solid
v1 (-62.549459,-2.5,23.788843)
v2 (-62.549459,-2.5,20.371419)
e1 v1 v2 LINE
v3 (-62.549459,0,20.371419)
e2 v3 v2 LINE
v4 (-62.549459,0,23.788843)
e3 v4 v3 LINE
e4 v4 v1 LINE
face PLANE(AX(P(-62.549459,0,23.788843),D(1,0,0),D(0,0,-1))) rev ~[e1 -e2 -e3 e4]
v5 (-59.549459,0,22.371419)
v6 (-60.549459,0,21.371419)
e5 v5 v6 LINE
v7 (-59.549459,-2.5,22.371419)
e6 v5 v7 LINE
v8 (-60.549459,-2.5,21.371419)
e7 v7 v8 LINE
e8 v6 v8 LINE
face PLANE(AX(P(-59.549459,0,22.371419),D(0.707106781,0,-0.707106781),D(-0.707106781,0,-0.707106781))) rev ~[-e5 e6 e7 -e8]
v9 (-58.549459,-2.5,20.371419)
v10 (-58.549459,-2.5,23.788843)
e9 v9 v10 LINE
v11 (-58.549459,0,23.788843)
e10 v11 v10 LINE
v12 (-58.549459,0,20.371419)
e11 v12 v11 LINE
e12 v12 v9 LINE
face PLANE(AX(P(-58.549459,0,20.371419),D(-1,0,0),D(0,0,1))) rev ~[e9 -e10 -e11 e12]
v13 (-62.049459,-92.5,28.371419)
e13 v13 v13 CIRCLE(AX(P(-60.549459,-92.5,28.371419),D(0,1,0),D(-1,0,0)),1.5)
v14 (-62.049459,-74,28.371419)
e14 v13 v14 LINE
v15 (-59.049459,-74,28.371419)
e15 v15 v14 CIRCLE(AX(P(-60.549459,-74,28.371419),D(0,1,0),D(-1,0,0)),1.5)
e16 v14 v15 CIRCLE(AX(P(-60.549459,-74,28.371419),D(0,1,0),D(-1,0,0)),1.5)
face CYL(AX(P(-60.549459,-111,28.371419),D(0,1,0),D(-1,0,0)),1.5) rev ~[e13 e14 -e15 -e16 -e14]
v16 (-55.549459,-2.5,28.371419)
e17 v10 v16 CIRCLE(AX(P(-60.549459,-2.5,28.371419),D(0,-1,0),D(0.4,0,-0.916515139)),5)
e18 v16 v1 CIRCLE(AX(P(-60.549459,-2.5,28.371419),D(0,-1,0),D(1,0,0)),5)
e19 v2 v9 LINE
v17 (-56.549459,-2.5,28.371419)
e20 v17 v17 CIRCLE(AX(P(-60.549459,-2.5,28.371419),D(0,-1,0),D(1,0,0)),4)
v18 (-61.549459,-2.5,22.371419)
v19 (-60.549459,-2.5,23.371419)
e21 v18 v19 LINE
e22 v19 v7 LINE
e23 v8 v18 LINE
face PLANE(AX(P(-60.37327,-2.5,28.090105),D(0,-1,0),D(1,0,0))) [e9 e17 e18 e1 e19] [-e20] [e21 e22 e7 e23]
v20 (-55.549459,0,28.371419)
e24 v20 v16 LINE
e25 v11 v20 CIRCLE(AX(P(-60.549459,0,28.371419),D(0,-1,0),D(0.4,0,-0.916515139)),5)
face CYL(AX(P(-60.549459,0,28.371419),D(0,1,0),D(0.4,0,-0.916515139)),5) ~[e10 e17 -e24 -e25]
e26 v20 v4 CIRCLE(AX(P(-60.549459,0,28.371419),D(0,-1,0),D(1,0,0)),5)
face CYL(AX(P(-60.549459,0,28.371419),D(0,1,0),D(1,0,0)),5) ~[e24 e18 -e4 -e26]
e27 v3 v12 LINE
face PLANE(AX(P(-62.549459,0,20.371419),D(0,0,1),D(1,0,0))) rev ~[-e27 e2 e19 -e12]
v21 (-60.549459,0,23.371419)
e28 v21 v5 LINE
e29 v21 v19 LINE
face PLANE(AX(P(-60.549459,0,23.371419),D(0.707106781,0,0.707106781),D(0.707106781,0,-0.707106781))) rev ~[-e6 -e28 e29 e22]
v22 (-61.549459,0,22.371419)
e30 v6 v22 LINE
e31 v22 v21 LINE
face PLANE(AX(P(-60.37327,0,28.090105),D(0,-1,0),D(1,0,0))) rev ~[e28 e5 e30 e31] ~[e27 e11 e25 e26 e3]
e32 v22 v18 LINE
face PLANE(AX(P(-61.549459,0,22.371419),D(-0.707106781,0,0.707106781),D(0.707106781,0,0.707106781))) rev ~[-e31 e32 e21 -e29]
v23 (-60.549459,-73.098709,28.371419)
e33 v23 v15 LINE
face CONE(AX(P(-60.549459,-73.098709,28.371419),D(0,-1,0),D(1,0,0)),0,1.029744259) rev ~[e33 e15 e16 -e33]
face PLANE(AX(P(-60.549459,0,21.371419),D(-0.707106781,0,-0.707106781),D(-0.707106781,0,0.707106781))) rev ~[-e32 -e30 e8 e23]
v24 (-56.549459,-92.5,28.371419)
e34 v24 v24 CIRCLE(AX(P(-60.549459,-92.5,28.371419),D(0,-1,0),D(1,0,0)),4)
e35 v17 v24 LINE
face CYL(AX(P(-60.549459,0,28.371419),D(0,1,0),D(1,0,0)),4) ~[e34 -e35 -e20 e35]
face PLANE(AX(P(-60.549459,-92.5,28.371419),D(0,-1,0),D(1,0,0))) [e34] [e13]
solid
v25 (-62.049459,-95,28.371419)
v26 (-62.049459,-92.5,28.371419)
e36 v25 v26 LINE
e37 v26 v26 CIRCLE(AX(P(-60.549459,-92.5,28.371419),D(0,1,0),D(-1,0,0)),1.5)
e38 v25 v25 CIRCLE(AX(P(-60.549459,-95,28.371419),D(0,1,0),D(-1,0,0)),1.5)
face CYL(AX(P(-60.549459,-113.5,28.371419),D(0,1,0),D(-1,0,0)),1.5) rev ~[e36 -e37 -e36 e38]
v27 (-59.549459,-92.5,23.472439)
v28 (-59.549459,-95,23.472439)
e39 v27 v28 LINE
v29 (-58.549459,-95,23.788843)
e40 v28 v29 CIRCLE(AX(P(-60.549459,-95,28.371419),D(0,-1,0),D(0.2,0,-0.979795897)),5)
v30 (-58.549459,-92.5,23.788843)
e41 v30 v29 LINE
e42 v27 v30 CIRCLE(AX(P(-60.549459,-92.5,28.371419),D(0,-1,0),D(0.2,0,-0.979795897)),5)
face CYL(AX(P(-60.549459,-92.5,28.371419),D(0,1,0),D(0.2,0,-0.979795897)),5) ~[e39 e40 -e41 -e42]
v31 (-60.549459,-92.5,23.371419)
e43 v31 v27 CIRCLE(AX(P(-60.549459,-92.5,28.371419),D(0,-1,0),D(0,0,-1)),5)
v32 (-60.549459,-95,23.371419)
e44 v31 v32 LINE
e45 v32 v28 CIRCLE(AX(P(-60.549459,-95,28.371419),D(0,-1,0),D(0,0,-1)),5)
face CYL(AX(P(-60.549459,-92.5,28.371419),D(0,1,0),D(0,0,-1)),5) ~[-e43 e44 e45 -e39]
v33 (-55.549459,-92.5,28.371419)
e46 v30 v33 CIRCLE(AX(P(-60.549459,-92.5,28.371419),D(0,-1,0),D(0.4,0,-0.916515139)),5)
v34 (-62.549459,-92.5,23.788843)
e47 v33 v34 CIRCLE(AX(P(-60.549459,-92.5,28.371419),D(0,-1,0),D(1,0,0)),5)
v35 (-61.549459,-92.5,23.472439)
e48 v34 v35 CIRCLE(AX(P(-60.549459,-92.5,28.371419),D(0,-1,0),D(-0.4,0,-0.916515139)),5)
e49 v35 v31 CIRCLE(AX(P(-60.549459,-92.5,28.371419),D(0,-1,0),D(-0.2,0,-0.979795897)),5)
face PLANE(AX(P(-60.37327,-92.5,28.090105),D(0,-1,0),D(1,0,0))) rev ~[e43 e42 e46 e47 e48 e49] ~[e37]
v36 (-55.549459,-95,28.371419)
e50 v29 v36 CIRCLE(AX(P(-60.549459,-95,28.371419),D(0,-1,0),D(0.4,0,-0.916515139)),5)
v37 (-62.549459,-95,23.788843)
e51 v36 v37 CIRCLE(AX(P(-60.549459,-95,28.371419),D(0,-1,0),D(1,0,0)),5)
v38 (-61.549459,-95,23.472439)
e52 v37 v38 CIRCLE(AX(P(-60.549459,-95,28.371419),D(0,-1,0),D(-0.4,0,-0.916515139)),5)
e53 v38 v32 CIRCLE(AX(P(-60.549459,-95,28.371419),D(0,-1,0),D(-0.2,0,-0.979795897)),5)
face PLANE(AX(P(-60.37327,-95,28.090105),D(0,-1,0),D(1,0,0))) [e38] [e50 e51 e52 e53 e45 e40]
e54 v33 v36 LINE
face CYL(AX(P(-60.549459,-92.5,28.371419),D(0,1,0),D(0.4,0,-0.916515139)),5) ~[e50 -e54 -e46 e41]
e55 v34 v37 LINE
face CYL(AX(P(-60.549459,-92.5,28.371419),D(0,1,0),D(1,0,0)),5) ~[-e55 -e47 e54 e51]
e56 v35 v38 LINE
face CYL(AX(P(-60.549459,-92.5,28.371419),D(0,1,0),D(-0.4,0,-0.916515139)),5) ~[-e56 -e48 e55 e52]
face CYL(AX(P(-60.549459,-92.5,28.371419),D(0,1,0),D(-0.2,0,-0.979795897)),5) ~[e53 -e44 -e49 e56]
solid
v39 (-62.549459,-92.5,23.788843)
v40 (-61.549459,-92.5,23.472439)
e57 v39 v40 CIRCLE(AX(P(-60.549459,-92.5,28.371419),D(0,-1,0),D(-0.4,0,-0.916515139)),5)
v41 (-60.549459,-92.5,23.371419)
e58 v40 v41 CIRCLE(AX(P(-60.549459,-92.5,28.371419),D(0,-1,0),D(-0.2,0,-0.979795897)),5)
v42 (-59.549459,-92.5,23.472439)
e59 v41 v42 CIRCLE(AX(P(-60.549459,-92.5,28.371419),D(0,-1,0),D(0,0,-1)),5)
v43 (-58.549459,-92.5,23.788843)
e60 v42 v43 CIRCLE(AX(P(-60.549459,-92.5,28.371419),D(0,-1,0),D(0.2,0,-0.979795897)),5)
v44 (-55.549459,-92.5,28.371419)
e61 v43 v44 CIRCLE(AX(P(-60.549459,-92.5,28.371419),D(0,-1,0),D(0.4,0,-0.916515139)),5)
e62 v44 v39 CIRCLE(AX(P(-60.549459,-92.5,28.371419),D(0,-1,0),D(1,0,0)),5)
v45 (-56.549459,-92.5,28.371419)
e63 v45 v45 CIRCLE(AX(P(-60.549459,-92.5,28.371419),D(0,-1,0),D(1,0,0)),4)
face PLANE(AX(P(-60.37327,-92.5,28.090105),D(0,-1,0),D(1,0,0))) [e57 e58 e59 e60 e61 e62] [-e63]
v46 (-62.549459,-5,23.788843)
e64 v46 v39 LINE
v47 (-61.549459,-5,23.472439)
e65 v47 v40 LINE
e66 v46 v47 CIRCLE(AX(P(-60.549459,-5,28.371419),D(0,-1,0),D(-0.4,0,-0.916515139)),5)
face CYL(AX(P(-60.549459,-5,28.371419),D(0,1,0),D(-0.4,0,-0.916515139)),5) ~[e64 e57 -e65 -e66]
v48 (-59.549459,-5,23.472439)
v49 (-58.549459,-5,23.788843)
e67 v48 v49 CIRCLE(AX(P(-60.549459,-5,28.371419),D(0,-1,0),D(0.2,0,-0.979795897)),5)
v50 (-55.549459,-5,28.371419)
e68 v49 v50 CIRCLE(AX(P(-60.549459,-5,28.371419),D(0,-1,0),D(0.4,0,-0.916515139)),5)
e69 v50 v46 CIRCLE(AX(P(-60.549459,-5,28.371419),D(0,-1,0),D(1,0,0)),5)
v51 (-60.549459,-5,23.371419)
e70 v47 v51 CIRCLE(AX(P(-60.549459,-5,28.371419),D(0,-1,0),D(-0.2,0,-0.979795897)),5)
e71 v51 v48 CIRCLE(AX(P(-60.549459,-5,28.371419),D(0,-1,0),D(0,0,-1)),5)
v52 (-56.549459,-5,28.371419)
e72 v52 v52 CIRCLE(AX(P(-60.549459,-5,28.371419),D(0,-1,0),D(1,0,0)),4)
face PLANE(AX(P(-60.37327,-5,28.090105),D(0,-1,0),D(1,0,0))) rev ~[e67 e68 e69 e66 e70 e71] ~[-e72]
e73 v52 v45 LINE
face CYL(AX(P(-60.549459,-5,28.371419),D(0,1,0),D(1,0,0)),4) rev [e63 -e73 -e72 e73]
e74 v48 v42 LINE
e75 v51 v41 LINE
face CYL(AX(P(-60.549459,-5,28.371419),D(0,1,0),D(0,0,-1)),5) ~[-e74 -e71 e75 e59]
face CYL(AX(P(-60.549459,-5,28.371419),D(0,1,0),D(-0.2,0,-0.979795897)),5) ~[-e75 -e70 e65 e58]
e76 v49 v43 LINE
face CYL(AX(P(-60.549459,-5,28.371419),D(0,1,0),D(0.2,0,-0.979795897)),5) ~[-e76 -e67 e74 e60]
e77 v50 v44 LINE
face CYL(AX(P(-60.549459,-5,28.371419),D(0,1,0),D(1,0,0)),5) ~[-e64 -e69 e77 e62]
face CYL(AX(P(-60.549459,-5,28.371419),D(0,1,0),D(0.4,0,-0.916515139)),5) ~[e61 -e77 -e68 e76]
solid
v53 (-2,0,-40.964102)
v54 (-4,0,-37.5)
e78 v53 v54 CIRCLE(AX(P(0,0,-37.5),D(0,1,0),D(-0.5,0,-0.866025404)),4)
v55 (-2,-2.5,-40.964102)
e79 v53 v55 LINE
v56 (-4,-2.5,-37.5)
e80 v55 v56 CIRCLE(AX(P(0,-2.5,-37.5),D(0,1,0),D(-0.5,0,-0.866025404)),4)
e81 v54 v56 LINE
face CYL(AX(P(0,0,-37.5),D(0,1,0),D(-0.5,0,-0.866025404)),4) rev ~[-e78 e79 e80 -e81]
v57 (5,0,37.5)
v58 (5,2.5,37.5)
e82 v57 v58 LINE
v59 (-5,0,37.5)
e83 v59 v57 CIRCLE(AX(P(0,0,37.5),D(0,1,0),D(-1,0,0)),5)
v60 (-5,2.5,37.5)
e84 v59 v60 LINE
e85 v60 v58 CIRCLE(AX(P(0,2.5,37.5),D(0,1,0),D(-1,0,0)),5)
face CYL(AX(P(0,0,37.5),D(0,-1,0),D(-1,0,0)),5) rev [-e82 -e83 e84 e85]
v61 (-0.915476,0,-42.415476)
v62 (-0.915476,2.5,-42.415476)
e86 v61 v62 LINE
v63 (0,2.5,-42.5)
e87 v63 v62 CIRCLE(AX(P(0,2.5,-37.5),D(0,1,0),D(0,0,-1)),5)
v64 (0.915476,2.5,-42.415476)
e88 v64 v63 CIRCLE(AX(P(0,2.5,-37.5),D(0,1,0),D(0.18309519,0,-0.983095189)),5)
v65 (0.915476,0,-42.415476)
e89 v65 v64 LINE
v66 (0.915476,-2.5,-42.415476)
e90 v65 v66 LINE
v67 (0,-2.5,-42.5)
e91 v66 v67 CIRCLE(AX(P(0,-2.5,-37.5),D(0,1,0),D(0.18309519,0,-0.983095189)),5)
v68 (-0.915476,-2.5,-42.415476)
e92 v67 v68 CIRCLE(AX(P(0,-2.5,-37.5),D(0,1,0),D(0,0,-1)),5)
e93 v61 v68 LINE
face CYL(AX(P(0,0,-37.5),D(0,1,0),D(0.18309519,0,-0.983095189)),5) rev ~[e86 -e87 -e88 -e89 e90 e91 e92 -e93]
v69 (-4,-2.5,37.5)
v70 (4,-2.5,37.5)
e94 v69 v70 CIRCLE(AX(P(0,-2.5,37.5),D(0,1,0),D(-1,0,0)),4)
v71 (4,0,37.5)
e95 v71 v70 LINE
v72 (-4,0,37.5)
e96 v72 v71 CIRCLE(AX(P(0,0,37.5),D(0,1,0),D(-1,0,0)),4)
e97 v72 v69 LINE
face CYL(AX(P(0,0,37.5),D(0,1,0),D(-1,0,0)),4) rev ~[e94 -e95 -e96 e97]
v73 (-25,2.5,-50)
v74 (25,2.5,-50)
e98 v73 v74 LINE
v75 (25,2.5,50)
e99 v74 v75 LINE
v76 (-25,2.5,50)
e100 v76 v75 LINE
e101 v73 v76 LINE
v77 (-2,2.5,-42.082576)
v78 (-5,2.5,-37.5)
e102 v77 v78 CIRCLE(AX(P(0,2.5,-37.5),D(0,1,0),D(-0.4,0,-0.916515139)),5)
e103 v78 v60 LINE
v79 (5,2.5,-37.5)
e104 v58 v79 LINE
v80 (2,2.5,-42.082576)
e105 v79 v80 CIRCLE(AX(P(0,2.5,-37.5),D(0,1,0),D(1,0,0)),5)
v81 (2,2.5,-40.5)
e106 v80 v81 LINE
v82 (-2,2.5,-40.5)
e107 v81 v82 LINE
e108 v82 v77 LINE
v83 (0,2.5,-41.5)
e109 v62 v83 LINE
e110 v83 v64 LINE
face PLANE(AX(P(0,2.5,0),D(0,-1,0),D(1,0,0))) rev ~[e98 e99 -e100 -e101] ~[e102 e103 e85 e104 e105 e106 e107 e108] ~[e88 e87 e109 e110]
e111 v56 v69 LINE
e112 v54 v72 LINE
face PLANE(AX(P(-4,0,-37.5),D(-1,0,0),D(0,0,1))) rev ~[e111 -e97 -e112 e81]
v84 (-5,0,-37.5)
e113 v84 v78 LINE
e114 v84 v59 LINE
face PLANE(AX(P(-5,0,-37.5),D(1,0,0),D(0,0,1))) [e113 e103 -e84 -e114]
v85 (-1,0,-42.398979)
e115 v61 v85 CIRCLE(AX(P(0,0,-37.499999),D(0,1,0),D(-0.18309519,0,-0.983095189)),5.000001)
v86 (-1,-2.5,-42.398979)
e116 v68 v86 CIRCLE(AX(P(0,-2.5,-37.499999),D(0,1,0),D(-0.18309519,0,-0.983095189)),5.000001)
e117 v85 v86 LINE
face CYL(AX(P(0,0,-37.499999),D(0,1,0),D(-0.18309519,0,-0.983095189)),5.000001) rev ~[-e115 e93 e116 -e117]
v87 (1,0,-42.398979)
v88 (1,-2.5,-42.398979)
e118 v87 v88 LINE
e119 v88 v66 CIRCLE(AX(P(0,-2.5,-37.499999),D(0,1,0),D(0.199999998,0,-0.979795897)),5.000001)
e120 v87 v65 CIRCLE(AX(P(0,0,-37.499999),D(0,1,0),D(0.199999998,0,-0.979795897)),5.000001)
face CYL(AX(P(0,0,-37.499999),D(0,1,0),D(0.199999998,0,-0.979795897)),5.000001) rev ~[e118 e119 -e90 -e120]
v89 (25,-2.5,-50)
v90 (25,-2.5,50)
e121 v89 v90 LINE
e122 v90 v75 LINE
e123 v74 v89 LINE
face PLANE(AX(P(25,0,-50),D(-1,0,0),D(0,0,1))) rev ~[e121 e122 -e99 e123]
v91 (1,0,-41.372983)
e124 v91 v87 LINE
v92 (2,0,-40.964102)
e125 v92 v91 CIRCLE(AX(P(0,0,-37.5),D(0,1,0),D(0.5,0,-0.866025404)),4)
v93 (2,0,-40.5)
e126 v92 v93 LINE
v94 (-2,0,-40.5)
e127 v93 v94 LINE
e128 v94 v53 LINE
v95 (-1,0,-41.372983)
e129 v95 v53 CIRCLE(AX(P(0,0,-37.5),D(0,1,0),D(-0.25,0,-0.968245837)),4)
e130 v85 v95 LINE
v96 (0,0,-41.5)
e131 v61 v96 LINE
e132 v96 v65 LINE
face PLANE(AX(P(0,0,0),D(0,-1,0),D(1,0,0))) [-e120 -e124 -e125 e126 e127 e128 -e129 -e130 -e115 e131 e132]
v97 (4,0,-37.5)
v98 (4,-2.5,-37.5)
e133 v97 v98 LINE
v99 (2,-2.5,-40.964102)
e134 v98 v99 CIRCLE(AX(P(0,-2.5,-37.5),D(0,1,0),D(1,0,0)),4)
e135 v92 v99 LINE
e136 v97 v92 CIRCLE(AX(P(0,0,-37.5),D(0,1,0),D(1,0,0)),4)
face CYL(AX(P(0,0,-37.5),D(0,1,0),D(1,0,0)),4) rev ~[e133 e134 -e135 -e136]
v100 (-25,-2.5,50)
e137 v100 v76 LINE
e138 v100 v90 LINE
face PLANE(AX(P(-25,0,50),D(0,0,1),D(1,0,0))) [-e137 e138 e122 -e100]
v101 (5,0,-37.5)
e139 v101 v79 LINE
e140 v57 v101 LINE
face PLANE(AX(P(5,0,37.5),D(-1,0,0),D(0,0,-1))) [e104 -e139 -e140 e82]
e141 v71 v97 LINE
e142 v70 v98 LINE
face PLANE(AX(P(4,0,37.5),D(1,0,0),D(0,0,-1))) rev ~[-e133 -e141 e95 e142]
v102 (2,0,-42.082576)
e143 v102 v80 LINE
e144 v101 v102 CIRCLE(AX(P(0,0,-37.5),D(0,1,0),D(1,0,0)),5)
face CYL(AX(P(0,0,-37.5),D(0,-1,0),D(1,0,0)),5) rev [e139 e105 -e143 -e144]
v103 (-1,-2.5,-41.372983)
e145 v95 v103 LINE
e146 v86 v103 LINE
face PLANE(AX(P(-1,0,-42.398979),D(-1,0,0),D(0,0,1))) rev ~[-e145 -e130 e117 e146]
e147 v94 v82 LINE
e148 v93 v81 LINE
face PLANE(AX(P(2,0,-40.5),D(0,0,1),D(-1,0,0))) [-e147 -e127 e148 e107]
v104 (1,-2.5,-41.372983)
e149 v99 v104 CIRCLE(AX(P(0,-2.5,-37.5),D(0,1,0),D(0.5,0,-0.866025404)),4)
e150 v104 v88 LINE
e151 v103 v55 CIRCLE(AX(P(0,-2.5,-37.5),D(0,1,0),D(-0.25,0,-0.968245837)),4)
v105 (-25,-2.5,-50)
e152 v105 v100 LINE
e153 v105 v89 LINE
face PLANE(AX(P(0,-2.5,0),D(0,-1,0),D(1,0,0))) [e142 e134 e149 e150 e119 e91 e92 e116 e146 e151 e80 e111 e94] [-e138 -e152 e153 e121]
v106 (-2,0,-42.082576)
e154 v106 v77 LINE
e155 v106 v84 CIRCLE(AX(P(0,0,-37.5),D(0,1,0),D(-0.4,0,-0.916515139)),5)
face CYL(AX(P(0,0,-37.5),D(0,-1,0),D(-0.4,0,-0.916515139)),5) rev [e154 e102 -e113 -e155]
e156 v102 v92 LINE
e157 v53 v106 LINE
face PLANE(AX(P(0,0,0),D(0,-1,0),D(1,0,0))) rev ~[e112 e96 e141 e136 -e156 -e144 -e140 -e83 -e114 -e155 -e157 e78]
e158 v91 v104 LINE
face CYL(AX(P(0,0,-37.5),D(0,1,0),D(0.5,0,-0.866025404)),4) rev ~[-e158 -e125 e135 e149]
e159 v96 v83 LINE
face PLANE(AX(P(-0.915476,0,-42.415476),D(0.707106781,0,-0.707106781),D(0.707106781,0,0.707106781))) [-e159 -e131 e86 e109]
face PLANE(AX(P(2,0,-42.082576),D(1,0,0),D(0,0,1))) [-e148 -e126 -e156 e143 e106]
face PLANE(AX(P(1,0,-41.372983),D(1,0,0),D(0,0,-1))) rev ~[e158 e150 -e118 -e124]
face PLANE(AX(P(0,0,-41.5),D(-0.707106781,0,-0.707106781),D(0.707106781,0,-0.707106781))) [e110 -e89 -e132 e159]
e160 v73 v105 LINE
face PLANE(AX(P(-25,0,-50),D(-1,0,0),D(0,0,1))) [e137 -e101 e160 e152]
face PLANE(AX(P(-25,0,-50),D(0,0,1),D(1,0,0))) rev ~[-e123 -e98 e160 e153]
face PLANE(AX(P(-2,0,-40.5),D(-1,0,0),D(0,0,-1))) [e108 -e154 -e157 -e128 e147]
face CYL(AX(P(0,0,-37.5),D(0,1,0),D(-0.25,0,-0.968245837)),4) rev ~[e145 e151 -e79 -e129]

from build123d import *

# Parameters (mm, degrees)
F0_W      = 50
F0_H      = 100
F1_DEPTH  = 2.5
F2_DEPTH  = 2.5
F3_R      = 4
F4_DEPTH  = 2.5
F5_DEPTH  = 92.5
F7_START  = 5
F7_DEPTH  = 87.5
F8_D      = 3
F8_DEPTH  = 18.5
F8_TIP    = 0.9012909285
F9_START  = 92.5
F9_DEPTH  = 2.5
F11_D     = 3
F11_DEPTH = 18.5
F11_TIP   = 0.9012909285


with BuildPart() as f1:
    # F0 (on Front) → F1 (new body)
    with BuildSketch(Plane.XZ):
        Rectangle(F0_W, F0_H)
        with BuildLine():
            ThreePointArc((-5, 37.5), (0, 42.5), (5, 37.5))
            Line((5, 37.5), (5, -37.5))
            ThreePointArc((5, -37.5), (4.1833001327, -40.2386127875), (2, -42.082575695))
            Line((2, -42.082575695), (2, -42.5))
            Line((2, -42.5), (1, -42.5))
            Line((1, -42.5), (0, -42.5))
            Line((0, -42.5), (-1, -42.5))
            Line((-1, -42.5), (-2, -42.5))
            Line((-2, -42.5), (-2, -42.082575695))
            ThreePointArc((-2, -42.082575695), (-4.1833001327, -40.2386127875), (-5, -37.5))
            Line((-5, -37.5), (-5, 37.5))
        make_face(mode=Mode.SUBTRACT)
        with BuildLine():
            ThreePointArc((0, -42.5), (-0.4596848175, -42.4788241452), (-0.9154759474, -42.4154759474))
            Line((-0.9154759474, -42.4154759474), (-1, -42.5))
            Line((-1, -42.5), (0, -42.5))
        make_face()
        with BuildLine():
            ThreePointArc((-0.9154759474, -42.4154759474), (-0.9577734908, -42.4074096976), (-1, -42.3989794856))
            Line((-1, -42.3989794856), (-1, -42.5))
            Line((-1, -42.5), (-0.9154759474, -42.4154759474))
        make_face()
        with BuildLine():
            Line((1, -42.5), (1, -42.3989794856))
            ThreePointArc((1, -42.3989794856), (0.9577734908, -42.4074096976), (0.9154759474, -42.4154759474))
            Line((0.9154759474, -42.4154759474), (1, -42.5))
        make_face()
        with BuildLine():
            Line((1, -42.5), (0.9154759474, -42.4154759474))
            ThreePointArc((0.9154759474, -42.4154759474), (0.4596848175, -42.4788241452), (0, -42.5))
            Line((0, -42.5), (1, -42.5))
        make_face()
        with BuildLine():
            ThreePointArc((0.9154759474, -42.4154759474), (0.9577734908, -42.4074096976), (1, -42.3989794856))
            Line((1, -42.3989794856), (1, -41.3729833462))
            ThreePointArc((1, -41.3729833462), (0.5040171699, -41.4681187851), (0, -41.5))
            Line((0, -41.5), (0.9154759474, -42.4154759474))
        make_face()
        with BuildLine():
            ThreePointArc((0, -41.5), (0.5040171699, -41.4681187851), (1, -41.3729833462))
            Line((1, -41.3729833462), (1, -40.5))
            Line((1, -40.5), (0, -40.5))
            Line((0, -40.5), (0, -41.5))
        make_face()
        with BuildLine():
            Line((-1, -40.5), (-1, -41.3729833462))
            ThreePointArc((-1, -41.3729833462), (-0.5040171699, -41.4681187851), (0, -41.5))
            Line((0, -41.5), (0, -40.5))
            Line((0, -40.5), (-1, -40.5))
        make_face()
        with BuildLine():
            Line((-1, -41.3729833462), (-1, -42.3989794856))
            ThreePointArc((-1, -42.3989794856), (-0.9577734908, -42.4074096976), (-0.9154759474, -42.4154759474))
            Line((-0.9154759474, -42.4154759474), (0, -41.5))
            ThreePointArc((0, -41.5), (-0.5040171699, -41.4681187851), (-1, -41.3729833462))
        make_face()
        with BuildLine():
            Line((-2, -40.5), (-2, -40.9641016151))
            ThreePointArc((-2, -40.9641016151), (-1.5138679161, -41.2024591736), (-1, -41.3729833462))
            Line((-1, -41.3729833462), (-1, -40.5))
            Line((-1, -40.5), (-2, -40.5))
        make_face()
        with BuildLine():
            Line((-2, -40.9641016151), (-2, -42.082575695))
            ThreePointArc((-2, -42.082575695), (-1.5083195416, -42.2670716546), (-1, -42.3989794856))
            Line((-1, -42.3989794856), (-1, -41.3729833462))
            ThreePointArc((-1, -41.3729833462), (-1.5138679161, -41.2024591736), (-2, -40.9641016151))
        make_face()
        with BuildLine():
            ThreePointArc((-1, -42.3989794856), (-1.5083195416, -42.2670716546), (-2, -42.082575695))
            Line((-2, -42.082575695), (-2, -42.5))
            Line((-2, -42.5), (-1, -42.5))
            Line((-1, -42.5), (-1, -42.3989794856))
        make_face()
        with BuildLine():
            ThreePointArc((1, -41.3729833462), (1.5138679161, -41.2024591736), (2, -40.9641016151))
            Line((2, -40.9641016151), (2, -40.5))
            Line((2, -40.5), (1, -40.5))
            Line((1, -40.5), (1, -41.3729833462))
        make_face()
        with BuildLine():
            ThreePointArc((1, -42.3989794856), (1.5083195416, -42.2670716546), (2, -42.082575695))
            Line((2, -42.082575695), (2, -40.9641016151))
            ThreePointArc((2, -40.9641016151), (1.5138679161, -41.2024591736), (1, -41.3729833462))
            Line((1, -41.3729833462), (1, -42.3989794856))
        make_face()
        with BuildLine():
            Line((2, -42.5), (2, -42.082575695))
            ThreePointArc((2, -42.082575695), (1.5083195416, -42.2670716546), (1, -42.3989794856))
            Line((1, -42.3989794856), (1, -42.5))
            Line((1, -42.5), (2, -42.5))
        make_face()
    extrude(amount=-F1_DEPTH)

    # F0 (on Front) → F2 (join)
    with BuildSketch(Plane.XZ):
        Rectangle(F0_W, F0_H)
        with BuildLine():
            ThreePointArc((-5, 37.5), (0, 42.5), (5, 37.5))
            Line((5, 37.5), (5, -37.5))
            ThreePointArc((5, -37.5), (4.1833001327, -40.2386127875), (2, -42.082575695))
            Line((2, -42.082575695), (2, -42.5))
            Line((2, -42.5), (1, -42.5))
            Line((1, -42.5), (0, -42.5))
            Line((0, -42.5), (-1, -42.5))
            Line((-1, -42.5), (-2, -42.5))
            Line((-2, -42.5), (-2, -42.082575695))
            ThreePointArc((-2, -42.082575695), (-4.1833001327, -40.2386127875), (-5, -37.5))
            Line((-5, -37.5), (-5, 37.5))
        make_face(mode=Mode.SUBTRACT)
        with BuildLine():
            Line((5, -37.5), (5, 37.5))
            ThreePointArc((5, 37.5), (0, 42.5), (-5, 37.5))
            Line((-5, 37.5), (-5, -37.5))
            ThreePointArc((-5, -37.5), (-4.1833001327, -40.2386127875), (-2, -42.082575695))
            Line((-2, -42.082575695), (-2, -40.9641016151))
            ThreePointArc((-2, -40.9641016151), (-3.4641016151, -39.5), (-4, -37.5))
            Line((-4, -37.5), (-4, 37.5))
            ThreePointArc((-4, 37.5), (0, 41.5), (4, 37.5))
            Line((4, 37.5), (4, -37.5))
            ThreePointArc((4, -37.5), (3.4641016151, -39.5), (2, -40.9641016151))
            Line((2, -40.9641016151), (2, -42.082575695))
            ThreePointArc((2, -42.082575695), (4.1833001327, -40.2386127875), (5, -37.5))
        make_face()
        with BuildLine():
            Line((-2, -40.9641016151), (-2, -42.082575695))
            ThreePointArc((-2, -42.082575695), (-1.5083195416, -42.2670716546), (-1, -42.3989794856))
            Line((-1, -42.3989794856), (-1, -41.3729833462))
            ThreePointArc((-1, -41.3729833462), (-1.5138679161, -41.2024591736), (-2, -40.9641016151))
        make_face()
        with BuildLine():
            ThreePointArc((1, -42.3989794856), (1.5083195416, -42.2670716546), (2, -42.082575695))
            Line((2, -42.082575695), (2, -40.9641016151))
            ThreePointArc((2, -40.9641016151), (1.5138679161, -41.2024591736), (1, -41.3729833462))
            Line((1, -41.3729833462), (1, -42.3989794856))
        make_face()
        with BuildLine():
            Line((2, -42.5), (2, -42.082575695))
            ThreePointArc((2, -42.082575695), (1.5083195416, -42.2670716546), (1, -42.3989794856))
            Line((1, -42.3989794856), (1, -42.5))
            Line((1, -42.5), (2, -42.5))
        make_face()
        with BuildLine():
            ThreePointArc((-1, -42.3989794856), (-1.5083195416, -42.2670716546), (-2, -42.082575695))
            Line((-2, -42.082575695), (-2, -42.5))
            Line((-2, -42.5), (-1, -42.5))
            Line((-1, -42.5), (-1, -42.3989794856))
        make_face()
        with BuildLine():
            ThreePointArc((-0.9154759474, -42.4154759474), (-0.9577734908, -42.4074096976), (-1, -42.3989794856))
            Line((-1, -42.3989794856), (-1, -42.5))
            Line((-1, -42.5), (-0.9154759474, -42.4154759474))
        make_face()
        with BuildLine():
            ThreePointArc((0, -42.5), (-0.4596848175, -42.4788241452), (-0.9154759474, -42.4154759474))
            Line((-0.9154759474, -42.4154759474), (-1, -42.5))
            Line((-1, -42.5), (0, -42.5))
        make_face()
        with BuildLine():
            Line((1, -42.5), (1, -42.3989794856))
            ThreePointArc((1, -42.3989794856), (0.9577734908, -42.4074096976), (0.9154759474, -42.4154759474))
            Line((0.9154759474, -42.4154759474), (1, -42.5))
        make_face()
        with BuildLine():
            Line((1, -42.5), (0.9154759474, -42.4154759474))
            ThreePointArc((0.9154759474, -42.4154759474), (0.4596848175, -42.4788241452), (0, -42.5))
            Line((0, -42.5), (1, -42.5))
        make_face()
    extrude(amount=F2_DEPTH)


with BuildPart() as f4:
    # F3 (on Front) → F4 (new body)
    with BuildSketch(Plane.XZ):
        with BuildLine():
            ThreePointArc((-58.5494586527, 23.7888430792), (-56.3661585201, 25.6328059866), (-55.5494586527, 28.3714187741))
            ThreePointArc((-55.5494586527, 28.3714187741), (-63.2880714403, 32.5547189068), (-62.5494586527, 23.7888430792))
            ThreePointArc((-62.5494586527, 23.7888430792), (-62.0577781944, 23.6043471195), (-61.5494586527, 23.4724392886))
            ThreePointArc((-61.5494586527, 23.4724392886), (-61.0520034628, 23.3967380091), (-60.5494586527, 23.3714187741))
            ThreePointArc((-60.5494586527, 23.3714187741), (-60.0469138427, 23.3967380091), (-59.5494586527, 23.4724392886))
            ThreePointArc((-59.5494586527, 23.4724392886), (-59.0411391111, 23.6043471195), (-58.5494586527, 23.7888430792))
        make_face()
        with Locations((-60.5494586527, 28.3714187741)):
            Circle(F3_R, mode=Mode.SUBTRACT)
        with BuildLine():
            ThreePointArc((-61.5494586527, 23.4724392886), (-62.0577781944, 23.6043471195), (-62.5494586527, 23.7888430792))
            Line((-62.5494586527, 23.7888430792), (-62.5494586527, 21.3714187741))
            Line((-62.5494586527, 21.3714187741), (-61.5494586527, 21.3714187741))
            Line((-61.5494586527, 21.3714187741), (-61.5494586527, 22.3714187741))
            Line((-61.5494586527, 22.3714187741), (-61.5494586527, 23.4724392886))
        make_face()
        with BuildLine():
            Line((-58.5494586527, 21.3714187741), (-58.5494586527, 23.7888430792))
            ThreePointArc((-58.5494586527, 23.7888430792), (-59.0411391111, 23.6043471195), (-59.5494586527, 23.4724392886))
            Line((-59.5494586527, 23.4724392886), (-59.5494586527, 22.3714187741))
            Line((-59.5494586527, 22.3714187741), (-59.5494586527, 21.3714187741))
            Line((-59.5494586527, 21.3714187741), (-58.5494586527, 21.3714187741))
        make_face()
        Polygon((-61.5494586527, 21.3714187741), (-62.5494586527, 21.3714187741), (-62.5494586527, 20.3714187741), (-58.5494586527, 20.3714187741), (-58.5494586527, 21.3714187741), (-59.5494586527, 21.3714187741), (-60.5494586527, 21.3714187741), align=None)
        Polygon((-60.5494586527, 21.3714187741), (-61.5494586527, 22.3714187741), (-61.5494586527, 21.3714187741), align=None)
        with BuildLine():
            ThreePointArc((-60.5494586527, 23.3714187741), (-61.0520034628, 23.3967380091), (-61.5494586527, 23.4724392886))
            Line((-61.5494586527, 23.4724392886), (-61.5494586527, 22.3714187741))
            Line((-61.5494586527, 22.3714187741), (-60.5494586527, 23.3714187741))
        make_face()
        with BuildLine():
            Line((-59.5494586527, 22.3714187741), (-59.5494586527, 23.4724392886))
            ThreePointArc((-59.5494586527, 23.4724392886), (-60.0469138427, 23.3967380091), (-60.5494586527, 23.3714187741))
            Line((-60.5494586527, 23.3714187741), (-59.5494586527, 22.3714187741))
        make_face()
        Polygon((-59.5494586527, 21.3714187741), (-59.5494586527, 22.3714187741), (-60.5494586527, 21.3714187741), align=None)
    extrude(amount=F4_DEPTH)

    # F3 (on Front) → F5 (join)
    with BuildSketch(Plane.XZ):
        with Locations((-60.5494586527, 28.3714187741)):
            Circle(F3_R)
    extrude(amount=F5_DEPTH)

    # F8
    with Locations(Plane.XZ.offset(92.5)):
        with Locations((-60.5494586527, 28.3714187741)):
            Hole(F8_D / 2, depth=F8_DEPTH)
            with Locations((0, 0, -(F8_DEPTH + F8_TIP / 2))):  # 118° drill point
                Cone(0, F8_D / 2, F8_TIP, mode=Mode.SUBTRACT)


with BuildPart() as f7:
    # F3 (on Front) → F7 (new body)
    with BuildSketch(Plane.XZ.offset(F7_START)):
        with BuildLine():
            ThreePointArc((-58.5494586527, 23.7888430792), (-56.3661585201, 25.6328059866), (-55.5494586527, 28.3714187741))
            ThreePointArc((-55.5494586527, 28.3714187741), (-63.2880714403, 32.5547189068), (-62.5494586527, 23.7888430792))
            ThreePointArc((-62.5494586527, 23.7888430792), (-62.0577781944, 23.6043471195), (-61.5494586527, 23.4724392886))
            ThreePointArc((-61.5494586527, 23.4724392886), (-61.0520034628, 23.3967380091), (-60.5494586527, 23.3714187741))
            ThreePointArc((-60.5494586527, 23.3714187741), (-60.0469138427, 23.3967380091), (-59.5494586527, 23.4724392886))
            ThreePointArc((-59.5494586527, 23.4724392886), (-59.0411391111, 23.6043471195), (-58.5494586527, 23.7888430792))
        make_face()
        with Locations((-60.5494586527, 28.3714187741)):
            Circle(F3_R, mode=Mode.SUBTRACT)
    extrude(amount=F7_DEPTH)


with BuildPart() as f9:
    # F3 (on Front) → F9 (new body)
    with BuildSketch(Plane.XZ.offset(F9_START)):
        with BuildLine():
            ThreePointArc((-58.5494586527, 23.7888430792), (-56.3661585201, 25.6328059866), (-55.5494586527, 28.3714187741))
            ThreePointArc((-55.5494586527, 28.3714187741), (-63.2880714403, 32.5547189068), (-62.5494586527, 23.7888430792))
            ThreePointArc((-62.5494586527, 23.7888430792), (-62.0577781944, 23.6043471195), (-61.5494586527, 23.4724392886))
            ThreePointArc((-61.5494586527, 23.4724392886), (-61.0520034628, 23.3967380091), (-60.5494586527, 23.3714187741))
            ThreePointArc((-60.5494586527, 23.3714187741), (-60.0469138427, 23.3967380091), (-59.5494586527, 23.4724392886))
            ThreePointArc((-59.5494586527, 23.4724392886), (-59.0411391111, 23.6043471195), (-58.5494586527, 23.7888430792))
        make_face()
        with Locations((-60.5494586527, 28.3714187741)):
            Circle(F3_R, mode=Mode.SUBTRACT)
        with Locations((-60.5494586527, 28.3714187741)):
            Circle(F3_R)
    extrude(amount=F9_DEPTH)

    # F11
    with Locations(Plane.XZ.offset(95)):
        with Locations((-60.5494586527, 28.3714187741)):
            Hole(F11_D / 2, depth=F11_DEPTH)
            with Locations((0, 0, -(F11_DEPTH + F11_TIP / 2))):  # 118° drill point
                Cone(0, F11_D / 2, F11_TIP, mode=Mode.SUBTRACT)


solid = Compound([f1.part, f4.part, f7.part, f9.part])
